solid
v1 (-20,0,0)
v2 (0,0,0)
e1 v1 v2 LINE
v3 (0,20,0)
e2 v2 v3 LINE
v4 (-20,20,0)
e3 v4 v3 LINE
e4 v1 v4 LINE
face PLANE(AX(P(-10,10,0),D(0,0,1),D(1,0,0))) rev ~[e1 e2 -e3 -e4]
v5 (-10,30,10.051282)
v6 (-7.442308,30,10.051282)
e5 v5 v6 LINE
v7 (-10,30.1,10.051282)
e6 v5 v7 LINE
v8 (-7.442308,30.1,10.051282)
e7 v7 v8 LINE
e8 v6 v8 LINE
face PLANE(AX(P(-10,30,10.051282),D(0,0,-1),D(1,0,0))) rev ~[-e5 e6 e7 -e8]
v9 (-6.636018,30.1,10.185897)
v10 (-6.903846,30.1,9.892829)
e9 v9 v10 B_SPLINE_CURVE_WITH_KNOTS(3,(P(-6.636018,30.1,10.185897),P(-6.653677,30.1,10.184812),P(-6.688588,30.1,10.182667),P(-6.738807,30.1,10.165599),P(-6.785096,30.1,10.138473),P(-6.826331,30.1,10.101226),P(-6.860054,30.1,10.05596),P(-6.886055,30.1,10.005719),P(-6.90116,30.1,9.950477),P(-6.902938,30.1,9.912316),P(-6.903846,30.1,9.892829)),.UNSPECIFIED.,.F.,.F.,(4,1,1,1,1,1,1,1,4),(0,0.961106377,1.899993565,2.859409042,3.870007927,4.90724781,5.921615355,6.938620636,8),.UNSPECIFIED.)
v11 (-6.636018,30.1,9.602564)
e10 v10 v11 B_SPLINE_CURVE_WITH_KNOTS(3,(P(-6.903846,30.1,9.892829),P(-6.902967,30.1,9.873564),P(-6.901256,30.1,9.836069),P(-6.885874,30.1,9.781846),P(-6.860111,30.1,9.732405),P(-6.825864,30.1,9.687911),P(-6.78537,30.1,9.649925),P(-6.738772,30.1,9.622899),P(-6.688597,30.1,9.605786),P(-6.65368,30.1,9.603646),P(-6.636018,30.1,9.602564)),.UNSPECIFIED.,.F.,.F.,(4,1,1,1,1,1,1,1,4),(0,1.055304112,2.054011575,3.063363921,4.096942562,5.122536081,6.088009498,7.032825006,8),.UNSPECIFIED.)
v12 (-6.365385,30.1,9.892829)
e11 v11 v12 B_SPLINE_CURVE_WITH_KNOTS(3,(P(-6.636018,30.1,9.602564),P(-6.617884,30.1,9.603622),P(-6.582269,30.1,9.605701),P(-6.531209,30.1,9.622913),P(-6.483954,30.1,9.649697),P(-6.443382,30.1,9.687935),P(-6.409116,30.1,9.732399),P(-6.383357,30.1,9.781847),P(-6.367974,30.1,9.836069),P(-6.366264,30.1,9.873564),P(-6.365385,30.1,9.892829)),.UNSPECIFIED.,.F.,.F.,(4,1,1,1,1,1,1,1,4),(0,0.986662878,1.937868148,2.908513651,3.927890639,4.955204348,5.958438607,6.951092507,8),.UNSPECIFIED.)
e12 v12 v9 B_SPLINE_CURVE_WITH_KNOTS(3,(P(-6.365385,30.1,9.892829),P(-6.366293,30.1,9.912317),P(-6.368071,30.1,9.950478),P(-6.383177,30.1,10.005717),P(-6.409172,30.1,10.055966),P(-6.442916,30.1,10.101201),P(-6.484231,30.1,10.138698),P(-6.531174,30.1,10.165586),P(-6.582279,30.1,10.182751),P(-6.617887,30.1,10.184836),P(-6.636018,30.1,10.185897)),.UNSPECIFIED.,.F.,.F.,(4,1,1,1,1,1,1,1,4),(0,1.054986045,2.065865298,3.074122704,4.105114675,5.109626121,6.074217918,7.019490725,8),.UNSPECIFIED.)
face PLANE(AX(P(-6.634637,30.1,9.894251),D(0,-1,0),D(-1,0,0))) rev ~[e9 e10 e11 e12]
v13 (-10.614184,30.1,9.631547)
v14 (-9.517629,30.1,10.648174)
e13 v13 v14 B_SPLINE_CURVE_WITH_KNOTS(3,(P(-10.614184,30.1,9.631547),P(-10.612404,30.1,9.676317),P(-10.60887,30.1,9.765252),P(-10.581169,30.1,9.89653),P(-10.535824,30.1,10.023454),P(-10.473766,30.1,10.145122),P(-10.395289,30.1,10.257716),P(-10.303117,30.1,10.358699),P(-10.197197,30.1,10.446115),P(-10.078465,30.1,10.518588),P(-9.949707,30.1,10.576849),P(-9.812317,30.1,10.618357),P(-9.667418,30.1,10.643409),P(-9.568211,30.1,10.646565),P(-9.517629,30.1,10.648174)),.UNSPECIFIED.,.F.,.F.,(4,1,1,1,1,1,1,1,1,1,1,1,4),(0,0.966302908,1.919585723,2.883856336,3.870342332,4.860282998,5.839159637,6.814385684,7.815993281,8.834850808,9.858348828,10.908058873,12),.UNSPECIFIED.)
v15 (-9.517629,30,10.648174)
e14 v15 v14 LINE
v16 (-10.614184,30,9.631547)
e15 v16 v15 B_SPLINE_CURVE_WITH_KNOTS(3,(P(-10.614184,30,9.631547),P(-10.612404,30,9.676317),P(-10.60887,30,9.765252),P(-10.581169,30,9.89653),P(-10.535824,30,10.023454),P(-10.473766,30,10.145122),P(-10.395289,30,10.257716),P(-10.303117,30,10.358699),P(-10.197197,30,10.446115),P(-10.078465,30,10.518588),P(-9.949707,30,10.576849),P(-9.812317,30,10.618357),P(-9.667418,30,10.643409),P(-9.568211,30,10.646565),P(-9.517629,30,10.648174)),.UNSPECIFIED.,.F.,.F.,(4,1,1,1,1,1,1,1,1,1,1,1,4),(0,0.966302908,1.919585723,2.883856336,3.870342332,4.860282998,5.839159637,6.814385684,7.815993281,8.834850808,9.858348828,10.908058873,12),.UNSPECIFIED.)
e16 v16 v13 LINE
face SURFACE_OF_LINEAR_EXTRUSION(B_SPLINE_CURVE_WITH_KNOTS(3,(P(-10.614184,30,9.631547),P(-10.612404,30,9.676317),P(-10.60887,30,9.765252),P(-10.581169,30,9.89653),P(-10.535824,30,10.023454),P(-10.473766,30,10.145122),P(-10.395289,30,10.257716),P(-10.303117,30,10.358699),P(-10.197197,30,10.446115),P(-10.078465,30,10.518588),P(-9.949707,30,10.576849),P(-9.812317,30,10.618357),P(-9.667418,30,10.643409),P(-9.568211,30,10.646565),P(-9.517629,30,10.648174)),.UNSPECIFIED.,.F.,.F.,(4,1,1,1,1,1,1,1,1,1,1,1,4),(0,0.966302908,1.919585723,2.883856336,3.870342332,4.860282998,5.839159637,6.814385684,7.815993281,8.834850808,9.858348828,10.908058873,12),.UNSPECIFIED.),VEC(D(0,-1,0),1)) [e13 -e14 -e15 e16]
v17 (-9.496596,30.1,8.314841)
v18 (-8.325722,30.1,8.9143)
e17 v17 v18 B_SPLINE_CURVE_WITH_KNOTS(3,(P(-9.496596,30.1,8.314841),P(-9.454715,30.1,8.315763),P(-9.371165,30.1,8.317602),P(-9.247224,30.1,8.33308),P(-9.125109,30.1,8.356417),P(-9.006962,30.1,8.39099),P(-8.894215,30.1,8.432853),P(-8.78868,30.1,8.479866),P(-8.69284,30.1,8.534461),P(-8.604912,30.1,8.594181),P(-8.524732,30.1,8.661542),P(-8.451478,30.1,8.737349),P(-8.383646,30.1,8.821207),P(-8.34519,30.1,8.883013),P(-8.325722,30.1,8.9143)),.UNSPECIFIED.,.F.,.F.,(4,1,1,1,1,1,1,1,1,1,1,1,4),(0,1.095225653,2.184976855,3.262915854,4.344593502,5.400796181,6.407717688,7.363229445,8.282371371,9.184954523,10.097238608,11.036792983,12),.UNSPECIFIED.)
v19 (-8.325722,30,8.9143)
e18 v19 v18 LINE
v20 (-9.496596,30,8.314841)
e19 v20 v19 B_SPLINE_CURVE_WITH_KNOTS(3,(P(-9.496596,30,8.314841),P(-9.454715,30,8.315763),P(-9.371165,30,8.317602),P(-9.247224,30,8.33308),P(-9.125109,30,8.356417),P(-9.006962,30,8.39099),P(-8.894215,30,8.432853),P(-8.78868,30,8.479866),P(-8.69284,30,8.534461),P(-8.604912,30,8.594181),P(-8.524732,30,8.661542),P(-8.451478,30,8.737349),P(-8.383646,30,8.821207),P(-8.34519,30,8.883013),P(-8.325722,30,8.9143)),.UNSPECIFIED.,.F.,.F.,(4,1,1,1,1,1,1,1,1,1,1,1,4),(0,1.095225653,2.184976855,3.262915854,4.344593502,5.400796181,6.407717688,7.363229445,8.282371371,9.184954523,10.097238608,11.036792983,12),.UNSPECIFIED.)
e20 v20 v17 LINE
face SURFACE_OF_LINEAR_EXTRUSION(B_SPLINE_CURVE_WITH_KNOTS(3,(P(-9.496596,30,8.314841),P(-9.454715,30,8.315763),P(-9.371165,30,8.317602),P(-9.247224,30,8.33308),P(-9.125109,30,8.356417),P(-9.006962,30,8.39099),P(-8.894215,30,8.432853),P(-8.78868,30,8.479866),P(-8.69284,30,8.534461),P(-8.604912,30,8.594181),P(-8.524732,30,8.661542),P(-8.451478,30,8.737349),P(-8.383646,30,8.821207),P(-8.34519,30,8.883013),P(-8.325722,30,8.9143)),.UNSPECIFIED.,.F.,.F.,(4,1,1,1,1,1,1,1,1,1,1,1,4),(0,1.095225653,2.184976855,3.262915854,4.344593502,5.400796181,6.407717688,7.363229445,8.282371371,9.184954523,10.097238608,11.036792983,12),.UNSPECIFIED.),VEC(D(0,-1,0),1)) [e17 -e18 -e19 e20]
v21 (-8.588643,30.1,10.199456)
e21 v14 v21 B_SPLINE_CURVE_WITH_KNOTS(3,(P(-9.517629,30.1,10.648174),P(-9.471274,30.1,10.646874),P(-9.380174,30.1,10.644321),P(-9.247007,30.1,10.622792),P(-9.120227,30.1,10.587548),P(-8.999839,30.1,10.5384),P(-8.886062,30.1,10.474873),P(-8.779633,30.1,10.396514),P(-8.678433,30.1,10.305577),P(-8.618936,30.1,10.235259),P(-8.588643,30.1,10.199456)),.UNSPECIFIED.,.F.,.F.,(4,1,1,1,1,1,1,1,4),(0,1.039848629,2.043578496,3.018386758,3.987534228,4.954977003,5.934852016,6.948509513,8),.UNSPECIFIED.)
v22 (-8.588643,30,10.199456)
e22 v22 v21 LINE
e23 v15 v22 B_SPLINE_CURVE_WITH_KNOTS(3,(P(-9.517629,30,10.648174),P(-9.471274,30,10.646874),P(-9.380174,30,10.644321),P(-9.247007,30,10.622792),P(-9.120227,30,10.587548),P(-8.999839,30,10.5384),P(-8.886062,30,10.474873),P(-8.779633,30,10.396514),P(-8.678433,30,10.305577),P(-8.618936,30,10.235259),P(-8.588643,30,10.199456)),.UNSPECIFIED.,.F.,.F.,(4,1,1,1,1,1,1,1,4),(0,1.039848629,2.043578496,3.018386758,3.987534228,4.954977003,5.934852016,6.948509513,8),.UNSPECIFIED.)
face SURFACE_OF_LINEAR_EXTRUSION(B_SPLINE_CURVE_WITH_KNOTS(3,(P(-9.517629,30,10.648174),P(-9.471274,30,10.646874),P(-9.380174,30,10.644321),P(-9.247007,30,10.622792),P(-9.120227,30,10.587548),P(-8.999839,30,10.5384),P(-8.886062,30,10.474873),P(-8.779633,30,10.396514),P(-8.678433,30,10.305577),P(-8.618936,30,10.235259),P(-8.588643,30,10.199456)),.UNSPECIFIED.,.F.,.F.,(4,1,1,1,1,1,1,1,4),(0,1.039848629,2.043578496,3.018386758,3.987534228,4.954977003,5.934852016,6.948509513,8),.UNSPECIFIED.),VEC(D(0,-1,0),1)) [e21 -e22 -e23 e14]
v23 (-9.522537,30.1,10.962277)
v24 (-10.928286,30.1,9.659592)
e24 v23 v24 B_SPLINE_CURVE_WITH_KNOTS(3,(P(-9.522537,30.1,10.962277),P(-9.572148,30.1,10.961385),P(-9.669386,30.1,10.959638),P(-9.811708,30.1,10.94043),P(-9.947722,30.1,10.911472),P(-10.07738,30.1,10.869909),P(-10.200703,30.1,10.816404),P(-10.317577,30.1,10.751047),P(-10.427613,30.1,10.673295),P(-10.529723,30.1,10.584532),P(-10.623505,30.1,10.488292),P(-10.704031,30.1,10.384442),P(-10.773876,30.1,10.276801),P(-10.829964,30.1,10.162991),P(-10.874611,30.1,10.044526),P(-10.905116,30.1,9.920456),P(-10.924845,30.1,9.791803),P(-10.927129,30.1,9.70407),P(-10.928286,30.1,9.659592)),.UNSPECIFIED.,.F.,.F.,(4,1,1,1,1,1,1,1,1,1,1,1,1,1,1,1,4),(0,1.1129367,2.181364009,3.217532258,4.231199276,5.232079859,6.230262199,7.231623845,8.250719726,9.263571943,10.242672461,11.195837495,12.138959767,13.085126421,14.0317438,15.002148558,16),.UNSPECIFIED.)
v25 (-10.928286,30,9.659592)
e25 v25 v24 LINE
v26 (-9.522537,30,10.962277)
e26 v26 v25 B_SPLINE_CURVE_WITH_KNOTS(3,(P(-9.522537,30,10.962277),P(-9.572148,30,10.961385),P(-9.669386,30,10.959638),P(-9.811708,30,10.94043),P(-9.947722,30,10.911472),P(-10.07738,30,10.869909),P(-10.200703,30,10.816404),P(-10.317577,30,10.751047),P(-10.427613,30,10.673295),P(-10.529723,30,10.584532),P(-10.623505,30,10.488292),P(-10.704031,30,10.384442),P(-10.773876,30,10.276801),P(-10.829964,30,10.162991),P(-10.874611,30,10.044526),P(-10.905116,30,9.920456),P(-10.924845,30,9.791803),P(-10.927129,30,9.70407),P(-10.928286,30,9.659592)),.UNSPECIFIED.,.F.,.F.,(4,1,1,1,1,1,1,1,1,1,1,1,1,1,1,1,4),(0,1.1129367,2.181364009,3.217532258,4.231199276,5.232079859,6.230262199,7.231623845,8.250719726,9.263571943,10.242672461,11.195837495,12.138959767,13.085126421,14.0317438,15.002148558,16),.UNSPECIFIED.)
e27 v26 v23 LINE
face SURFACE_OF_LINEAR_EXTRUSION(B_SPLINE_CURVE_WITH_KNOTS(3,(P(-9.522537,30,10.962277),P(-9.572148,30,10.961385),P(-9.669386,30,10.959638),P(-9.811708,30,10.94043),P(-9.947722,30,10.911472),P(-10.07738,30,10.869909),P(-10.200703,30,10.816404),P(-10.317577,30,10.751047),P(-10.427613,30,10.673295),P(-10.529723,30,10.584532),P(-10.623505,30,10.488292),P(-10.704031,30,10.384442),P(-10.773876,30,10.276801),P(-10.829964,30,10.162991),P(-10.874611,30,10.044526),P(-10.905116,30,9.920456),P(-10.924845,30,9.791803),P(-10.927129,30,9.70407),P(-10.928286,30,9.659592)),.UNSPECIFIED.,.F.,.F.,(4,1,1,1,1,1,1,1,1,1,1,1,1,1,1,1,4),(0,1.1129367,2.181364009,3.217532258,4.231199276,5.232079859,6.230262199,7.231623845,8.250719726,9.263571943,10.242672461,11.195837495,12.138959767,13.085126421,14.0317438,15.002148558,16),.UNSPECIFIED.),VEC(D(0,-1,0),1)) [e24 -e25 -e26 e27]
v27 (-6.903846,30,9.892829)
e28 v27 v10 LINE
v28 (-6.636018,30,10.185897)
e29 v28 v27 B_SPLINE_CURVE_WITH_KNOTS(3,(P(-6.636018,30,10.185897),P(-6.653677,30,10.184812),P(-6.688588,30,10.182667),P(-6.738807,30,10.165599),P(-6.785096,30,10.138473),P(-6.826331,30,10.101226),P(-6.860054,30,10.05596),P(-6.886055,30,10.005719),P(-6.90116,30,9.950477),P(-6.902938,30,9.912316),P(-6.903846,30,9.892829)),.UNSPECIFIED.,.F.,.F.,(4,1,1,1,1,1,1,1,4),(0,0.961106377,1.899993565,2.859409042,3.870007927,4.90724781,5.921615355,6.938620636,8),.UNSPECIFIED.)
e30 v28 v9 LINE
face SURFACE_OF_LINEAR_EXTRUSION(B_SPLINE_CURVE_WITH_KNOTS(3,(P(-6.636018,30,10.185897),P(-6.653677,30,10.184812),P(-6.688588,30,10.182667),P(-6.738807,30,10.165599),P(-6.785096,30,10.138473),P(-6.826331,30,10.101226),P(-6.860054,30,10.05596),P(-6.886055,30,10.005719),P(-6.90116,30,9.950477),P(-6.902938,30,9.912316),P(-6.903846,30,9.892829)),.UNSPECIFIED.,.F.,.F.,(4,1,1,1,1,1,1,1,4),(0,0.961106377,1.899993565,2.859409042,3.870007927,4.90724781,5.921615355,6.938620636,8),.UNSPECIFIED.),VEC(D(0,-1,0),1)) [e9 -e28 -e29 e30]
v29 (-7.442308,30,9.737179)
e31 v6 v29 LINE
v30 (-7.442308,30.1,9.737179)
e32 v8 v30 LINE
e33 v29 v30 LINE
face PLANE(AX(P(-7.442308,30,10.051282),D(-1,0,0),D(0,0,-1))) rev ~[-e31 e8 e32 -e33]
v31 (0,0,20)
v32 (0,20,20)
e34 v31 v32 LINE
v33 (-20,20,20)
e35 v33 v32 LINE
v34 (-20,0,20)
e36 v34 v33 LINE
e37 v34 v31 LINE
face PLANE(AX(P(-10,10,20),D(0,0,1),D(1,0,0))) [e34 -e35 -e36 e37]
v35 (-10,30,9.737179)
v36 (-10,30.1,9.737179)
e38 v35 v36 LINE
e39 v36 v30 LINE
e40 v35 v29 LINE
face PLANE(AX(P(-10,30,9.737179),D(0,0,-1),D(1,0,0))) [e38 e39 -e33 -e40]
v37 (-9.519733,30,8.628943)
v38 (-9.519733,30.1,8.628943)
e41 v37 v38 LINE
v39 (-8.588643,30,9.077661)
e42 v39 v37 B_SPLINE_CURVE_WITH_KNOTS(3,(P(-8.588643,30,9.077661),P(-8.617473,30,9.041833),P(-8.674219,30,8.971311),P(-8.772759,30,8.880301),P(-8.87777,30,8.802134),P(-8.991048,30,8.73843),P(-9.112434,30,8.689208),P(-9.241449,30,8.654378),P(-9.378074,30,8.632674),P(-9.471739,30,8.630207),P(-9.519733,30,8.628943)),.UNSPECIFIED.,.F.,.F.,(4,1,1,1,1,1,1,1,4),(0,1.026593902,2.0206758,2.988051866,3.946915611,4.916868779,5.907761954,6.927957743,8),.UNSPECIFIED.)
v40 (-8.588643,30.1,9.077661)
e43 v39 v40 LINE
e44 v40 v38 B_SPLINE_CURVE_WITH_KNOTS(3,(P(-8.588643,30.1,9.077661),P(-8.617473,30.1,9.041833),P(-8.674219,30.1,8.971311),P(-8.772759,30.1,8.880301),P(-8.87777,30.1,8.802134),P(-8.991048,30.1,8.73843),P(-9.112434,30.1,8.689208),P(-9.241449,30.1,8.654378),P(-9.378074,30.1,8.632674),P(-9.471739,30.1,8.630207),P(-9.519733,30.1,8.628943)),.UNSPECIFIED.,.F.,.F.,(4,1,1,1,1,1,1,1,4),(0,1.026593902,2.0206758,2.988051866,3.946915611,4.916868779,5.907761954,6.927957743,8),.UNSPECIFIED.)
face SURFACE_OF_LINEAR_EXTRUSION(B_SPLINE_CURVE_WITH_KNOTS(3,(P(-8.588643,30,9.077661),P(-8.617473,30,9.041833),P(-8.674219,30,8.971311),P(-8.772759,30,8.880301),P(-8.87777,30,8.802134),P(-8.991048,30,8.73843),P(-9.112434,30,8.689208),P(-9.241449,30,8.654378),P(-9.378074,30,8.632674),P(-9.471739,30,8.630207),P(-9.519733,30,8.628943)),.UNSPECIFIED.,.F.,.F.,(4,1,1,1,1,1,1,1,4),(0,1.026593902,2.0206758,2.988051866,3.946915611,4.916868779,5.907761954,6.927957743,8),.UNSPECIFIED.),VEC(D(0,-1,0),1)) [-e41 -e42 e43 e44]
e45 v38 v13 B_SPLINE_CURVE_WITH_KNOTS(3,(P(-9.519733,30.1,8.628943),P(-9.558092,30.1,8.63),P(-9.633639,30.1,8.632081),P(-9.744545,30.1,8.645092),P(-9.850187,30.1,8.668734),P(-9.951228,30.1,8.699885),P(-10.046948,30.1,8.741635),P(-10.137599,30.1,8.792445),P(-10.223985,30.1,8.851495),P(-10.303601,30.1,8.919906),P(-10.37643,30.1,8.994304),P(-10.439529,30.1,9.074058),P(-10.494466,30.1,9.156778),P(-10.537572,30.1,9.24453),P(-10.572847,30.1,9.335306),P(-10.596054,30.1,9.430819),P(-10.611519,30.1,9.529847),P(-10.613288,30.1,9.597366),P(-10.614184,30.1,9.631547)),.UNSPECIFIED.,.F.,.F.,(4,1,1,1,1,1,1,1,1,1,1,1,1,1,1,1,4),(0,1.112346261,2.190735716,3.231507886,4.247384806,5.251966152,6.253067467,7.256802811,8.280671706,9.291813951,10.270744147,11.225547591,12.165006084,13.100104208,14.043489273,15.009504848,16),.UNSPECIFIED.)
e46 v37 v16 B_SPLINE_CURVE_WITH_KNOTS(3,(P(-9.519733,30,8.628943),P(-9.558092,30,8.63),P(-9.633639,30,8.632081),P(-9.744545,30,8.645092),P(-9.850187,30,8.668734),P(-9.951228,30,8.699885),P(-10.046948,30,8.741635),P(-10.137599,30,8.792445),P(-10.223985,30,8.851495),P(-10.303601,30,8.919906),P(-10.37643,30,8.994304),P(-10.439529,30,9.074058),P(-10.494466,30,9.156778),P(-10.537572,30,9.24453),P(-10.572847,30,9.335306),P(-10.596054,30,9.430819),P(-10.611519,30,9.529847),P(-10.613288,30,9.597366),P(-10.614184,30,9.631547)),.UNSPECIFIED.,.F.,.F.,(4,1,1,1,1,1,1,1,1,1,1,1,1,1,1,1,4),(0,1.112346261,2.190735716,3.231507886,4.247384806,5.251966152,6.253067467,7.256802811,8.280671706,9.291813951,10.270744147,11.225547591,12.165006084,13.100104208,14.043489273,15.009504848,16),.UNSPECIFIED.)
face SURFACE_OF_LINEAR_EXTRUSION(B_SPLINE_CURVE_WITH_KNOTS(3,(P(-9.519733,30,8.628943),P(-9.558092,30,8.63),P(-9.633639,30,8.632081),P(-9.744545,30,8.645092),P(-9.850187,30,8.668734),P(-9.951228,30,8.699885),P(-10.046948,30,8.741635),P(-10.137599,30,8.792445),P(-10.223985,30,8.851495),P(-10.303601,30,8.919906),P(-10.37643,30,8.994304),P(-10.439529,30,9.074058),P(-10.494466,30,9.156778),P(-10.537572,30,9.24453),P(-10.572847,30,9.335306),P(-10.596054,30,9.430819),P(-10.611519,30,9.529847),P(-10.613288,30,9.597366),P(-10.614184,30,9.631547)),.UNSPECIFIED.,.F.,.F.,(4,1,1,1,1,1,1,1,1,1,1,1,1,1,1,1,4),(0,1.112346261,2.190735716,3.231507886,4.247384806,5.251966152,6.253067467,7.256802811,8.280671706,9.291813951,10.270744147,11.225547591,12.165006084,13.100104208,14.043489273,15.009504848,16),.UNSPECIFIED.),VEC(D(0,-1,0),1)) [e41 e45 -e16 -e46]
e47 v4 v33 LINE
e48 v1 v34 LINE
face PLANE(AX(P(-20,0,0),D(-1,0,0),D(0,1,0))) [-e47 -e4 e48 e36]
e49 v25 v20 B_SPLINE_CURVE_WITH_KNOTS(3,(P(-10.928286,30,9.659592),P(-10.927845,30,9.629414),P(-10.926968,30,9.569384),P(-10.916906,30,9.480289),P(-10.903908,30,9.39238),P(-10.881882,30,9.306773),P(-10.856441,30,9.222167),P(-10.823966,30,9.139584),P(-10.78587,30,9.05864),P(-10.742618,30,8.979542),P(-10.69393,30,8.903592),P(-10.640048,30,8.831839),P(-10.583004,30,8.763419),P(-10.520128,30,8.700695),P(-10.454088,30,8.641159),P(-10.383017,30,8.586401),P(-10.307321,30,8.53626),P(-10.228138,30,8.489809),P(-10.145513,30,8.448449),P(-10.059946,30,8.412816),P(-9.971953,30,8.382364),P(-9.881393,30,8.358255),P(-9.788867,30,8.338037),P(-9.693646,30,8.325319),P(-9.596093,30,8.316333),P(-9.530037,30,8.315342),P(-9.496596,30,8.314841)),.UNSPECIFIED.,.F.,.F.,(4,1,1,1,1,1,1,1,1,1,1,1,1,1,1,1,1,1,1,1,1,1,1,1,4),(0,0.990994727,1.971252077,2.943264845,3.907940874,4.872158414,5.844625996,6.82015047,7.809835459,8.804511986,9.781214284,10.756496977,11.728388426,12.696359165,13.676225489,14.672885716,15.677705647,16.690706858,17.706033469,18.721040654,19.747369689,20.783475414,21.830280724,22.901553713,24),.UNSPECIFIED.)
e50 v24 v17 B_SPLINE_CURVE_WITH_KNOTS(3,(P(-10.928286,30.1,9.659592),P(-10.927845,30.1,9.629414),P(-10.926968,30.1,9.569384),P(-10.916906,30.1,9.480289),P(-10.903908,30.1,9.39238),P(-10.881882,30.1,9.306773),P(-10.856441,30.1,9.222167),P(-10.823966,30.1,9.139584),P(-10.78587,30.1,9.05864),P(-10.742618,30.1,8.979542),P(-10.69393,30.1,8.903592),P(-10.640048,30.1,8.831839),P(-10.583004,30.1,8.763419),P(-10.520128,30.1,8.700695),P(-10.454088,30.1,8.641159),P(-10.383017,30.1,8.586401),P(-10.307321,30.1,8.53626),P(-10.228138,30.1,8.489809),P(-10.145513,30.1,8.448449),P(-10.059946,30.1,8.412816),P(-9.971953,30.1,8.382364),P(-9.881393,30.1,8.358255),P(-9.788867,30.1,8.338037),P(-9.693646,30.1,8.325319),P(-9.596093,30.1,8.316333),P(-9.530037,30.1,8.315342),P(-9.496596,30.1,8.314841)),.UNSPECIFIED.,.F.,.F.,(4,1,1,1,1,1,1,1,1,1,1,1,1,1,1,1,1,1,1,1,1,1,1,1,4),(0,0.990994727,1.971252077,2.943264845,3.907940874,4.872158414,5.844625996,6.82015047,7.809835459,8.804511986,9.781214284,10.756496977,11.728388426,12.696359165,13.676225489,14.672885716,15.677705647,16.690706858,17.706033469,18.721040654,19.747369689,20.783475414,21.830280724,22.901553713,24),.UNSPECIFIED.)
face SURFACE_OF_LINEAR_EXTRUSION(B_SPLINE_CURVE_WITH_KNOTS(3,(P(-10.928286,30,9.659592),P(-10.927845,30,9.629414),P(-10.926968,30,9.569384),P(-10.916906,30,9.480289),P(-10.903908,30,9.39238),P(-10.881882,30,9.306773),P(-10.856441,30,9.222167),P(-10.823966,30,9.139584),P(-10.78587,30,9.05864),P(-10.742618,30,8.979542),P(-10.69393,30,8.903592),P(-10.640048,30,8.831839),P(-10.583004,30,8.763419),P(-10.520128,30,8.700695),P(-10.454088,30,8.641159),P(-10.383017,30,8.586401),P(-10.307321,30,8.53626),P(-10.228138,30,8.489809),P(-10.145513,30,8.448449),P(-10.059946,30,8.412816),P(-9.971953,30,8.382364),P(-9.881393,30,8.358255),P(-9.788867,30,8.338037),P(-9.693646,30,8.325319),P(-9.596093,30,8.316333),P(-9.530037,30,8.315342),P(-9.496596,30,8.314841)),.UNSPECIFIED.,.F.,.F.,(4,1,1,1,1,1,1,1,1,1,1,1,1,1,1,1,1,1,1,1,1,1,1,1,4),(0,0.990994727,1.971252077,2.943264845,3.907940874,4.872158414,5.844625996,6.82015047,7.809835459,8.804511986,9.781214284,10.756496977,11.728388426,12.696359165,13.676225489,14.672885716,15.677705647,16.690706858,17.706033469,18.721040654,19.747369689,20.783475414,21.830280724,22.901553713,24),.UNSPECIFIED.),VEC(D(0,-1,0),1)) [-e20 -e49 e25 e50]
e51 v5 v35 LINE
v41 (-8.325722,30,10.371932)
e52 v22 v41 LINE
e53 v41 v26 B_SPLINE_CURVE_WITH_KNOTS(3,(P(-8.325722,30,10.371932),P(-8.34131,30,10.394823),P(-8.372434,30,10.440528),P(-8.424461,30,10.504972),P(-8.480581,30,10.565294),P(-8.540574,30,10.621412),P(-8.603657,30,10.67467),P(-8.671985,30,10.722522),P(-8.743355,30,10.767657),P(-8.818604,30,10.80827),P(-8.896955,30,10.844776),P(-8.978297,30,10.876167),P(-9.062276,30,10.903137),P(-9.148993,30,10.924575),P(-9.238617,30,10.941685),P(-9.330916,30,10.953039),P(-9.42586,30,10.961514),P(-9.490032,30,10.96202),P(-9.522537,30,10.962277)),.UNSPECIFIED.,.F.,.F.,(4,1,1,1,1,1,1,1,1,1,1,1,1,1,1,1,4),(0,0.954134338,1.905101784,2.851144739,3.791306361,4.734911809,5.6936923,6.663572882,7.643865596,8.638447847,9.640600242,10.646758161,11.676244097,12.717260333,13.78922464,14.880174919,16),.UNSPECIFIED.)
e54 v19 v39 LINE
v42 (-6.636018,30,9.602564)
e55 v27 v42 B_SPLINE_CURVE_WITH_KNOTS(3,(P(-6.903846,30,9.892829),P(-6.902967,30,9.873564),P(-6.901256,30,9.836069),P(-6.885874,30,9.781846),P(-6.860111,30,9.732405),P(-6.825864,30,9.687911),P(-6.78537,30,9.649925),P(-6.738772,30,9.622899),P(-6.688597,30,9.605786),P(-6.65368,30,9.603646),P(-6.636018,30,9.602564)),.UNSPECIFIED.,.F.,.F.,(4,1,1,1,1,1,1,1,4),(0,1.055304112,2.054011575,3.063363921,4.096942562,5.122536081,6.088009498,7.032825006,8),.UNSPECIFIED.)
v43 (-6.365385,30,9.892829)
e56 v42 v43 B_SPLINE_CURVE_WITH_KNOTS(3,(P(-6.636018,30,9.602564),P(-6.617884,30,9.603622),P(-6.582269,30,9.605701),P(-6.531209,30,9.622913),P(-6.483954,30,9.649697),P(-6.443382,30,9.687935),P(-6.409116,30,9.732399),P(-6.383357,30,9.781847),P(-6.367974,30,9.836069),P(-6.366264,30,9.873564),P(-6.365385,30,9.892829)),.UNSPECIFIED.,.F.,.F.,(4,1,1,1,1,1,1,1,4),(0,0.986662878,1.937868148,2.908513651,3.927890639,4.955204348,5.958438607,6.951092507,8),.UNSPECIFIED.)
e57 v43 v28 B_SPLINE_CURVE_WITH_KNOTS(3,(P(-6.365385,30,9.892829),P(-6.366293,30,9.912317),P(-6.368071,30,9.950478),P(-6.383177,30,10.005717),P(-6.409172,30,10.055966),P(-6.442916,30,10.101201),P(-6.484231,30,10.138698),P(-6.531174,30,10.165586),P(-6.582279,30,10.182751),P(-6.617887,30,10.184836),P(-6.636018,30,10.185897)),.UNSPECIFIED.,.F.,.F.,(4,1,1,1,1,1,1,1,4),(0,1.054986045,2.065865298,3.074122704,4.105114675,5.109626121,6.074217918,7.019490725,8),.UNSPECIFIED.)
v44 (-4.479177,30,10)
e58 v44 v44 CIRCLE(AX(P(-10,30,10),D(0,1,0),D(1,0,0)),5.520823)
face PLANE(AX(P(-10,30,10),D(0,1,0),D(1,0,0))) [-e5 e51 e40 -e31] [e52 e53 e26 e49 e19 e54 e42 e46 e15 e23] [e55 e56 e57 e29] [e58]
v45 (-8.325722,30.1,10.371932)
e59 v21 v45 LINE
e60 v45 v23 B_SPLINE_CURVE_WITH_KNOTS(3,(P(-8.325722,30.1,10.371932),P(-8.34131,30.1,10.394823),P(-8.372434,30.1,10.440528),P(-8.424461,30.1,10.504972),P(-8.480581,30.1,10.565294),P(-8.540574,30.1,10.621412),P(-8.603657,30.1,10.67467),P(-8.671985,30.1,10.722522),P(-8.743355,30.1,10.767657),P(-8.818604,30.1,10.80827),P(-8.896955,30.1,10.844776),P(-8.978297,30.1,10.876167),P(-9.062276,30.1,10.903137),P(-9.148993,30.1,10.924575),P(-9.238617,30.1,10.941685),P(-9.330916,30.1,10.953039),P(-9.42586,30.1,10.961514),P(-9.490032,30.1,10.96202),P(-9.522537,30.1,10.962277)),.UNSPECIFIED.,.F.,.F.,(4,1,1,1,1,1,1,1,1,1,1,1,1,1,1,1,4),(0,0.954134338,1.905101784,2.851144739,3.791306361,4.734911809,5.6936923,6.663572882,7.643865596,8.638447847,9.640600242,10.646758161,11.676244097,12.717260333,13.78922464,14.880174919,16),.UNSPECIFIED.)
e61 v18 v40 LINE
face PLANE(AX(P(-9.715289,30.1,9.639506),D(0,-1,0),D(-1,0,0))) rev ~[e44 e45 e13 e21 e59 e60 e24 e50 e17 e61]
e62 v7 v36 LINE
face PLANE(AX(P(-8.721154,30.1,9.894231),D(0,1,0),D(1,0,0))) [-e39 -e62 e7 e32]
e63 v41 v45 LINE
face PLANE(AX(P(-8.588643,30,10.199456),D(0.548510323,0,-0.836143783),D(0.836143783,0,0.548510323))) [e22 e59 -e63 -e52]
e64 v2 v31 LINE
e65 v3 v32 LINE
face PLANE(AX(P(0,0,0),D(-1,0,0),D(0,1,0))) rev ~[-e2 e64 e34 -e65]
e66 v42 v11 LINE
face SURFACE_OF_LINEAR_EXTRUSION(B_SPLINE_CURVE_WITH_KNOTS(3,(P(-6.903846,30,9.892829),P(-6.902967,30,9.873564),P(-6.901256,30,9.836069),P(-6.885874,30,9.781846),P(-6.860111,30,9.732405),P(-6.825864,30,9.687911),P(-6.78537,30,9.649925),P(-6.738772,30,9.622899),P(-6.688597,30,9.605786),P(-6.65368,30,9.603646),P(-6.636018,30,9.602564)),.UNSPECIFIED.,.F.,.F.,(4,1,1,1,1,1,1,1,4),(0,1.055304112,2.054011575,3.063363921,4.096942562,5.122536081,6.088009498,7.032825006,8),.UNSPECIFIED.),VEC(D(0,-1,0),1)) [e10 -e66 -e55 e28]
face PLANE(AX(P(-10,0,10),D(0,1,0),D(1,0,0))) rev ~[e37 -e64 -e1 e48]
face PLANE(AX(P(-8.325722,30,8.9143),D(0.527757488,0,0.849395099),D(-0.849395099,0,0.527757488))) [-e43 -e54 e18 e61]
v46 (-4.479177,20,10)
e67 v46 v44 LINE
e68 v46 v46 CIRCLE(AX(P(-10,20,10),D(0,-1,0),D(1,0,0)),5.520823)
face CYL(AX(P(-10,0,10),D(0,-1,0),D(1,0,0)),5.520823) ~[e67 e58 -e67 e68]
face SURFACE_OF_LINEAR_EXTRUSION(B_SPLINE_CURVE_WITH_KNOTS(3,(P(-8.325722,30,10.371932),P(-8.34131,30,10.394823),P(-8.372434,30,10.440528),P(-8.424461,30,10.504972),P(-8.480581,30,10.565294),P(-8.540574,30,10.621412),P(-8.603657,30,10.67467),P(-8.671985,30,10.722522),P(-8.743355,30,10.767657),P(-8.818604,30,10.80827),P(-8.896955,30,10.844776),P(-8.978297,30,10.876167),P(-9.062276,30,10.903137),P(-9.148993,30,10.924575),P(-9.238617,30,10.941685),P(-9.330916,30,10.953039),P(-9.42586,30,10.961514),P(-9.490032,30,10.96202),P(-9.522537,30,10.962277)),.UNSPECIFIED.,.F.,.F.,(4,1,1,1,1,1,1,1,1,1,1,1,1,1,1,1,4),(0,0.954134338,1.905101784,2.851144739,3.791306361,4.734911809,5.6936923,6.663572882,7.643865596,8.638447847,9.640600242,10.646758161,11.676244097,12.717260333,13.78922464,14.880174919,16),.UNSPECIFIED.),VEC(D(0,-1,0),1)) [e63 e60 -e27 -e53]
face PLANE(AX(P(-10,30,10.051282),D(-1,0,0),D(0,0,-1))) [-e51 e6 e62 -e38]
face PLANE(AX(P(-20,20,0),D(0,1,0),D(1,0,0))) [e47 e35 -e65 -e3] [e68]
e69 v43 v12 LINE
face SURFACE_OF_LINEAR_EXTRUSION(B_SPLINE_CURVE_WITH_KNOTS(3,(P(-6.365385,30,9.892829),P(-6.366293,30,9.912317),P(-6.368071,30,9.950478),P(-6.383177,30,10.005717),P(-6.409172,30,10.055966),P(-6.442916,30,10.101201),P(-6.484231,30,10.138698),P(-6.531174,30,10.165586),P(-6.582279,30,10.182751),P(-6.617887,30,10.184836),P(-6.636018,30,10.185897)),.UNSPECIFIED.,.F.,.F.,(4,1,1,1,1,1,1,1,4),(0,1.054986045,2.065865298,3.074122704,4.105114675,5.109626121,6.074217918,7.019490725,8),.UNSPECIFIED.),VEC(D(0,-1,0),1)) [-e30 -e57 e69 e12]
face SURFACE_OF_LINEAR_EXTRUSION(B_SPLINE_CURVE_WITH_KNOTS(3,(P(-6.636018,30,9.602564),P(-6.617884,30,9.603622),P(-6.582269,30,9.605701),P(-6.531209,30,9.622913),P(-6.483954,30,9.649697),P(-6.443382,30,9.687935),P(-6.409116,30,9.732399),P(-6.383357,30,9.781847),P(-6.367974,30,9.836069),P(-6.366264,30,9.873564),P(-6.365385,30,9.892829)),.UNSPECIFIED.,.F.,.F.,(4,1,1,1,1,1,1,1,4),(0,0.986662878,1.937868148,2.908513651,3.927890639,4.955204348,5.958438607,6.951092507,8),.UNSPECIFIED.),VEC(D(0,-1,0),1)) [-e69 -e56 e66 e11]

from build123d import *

# Parameters (mm, degrees)
SKETCH1_W           = 20
SKETCH1_H           = 20
BOSS_EXTRUDE1_DEPTH = 20
SKETCH2_R           = 5.520822916
BOSS_EXTRUDE3_DEPTH = 30
BOSS_EXTRUDE4_DEPTH = 0.1
SKETCH4_W           = 2.557692308
SKETCH4_H           = 0.314102564
BOSS_EXTRUDE5_DEPTH = 0.1


with BuildPart() as part:
    # Sketch1 → Boss-Extrude1 (new body)
    with BuildSketch(Plane.XY):
        with Locations((-10, 10)):
            Rectangle(SKETCH1_W, SKETCH1_H)
    extrude(amount=BOSS_EXTRUDE1_DEPTH)

    # Sketch2 → Boss-Extrude3 (add)
    with BuildSketch(Plane(origin=(0, 0, 0), x_dir=(1, 0, 0), z_dir=(0, 1, 0))):
        with Locations((-10, -10)):
            Circle(SKETCH2_R)
    extrude(amount=BOSS_EXTRUDE3_DEPTH)

    # Sketch3 → Boss-Extrude4 (add)
    with BuildSketch(Plane(origin=(0, 30, 0), x_dir=(1, 0, 0), z_dir=(0, 1, 0))):
        with BuildLine():
            Line((-8.325722208, -8.914299791), (-8.588642881, -9.077661169))
            add(Edge.make_bspline(
                [(-8.588642881, -9.077661169), (-8.617472747, -9.041832775), (-8.674219442, -8.971310665), (-8.772758678, -8.880300732), (-8.877770093, -8.80213369), (-8.99104814, -8.738429939), (-9.11243394, -8.689208489), (-9.241448792, -8.654378283), (-9.378074297, -8.63267404), (-9.471739496, -8.630207204), (-9.519732625, -8.628943221)],
                knots=[0, 0, 0, 0, 1.026593902, 2.0206758, 2.988051866, 3.946915611, 4.916868779, 5.907761954, 6.927957743, 8, 8, 8, 8], degree=3))
            add(Edge.make_bspline(
                [(-9.519732625, -8.628943221), (-9.558091582, -8.630000063), (-9.633638505, -8.632081485), (-9.744544658, -8.645091978), (-9.850187011, -8.668733986), (-9.95122772, -8.699884943), (-10.046948139, -8.741635233), (-10.137599057, -8.792444989), (-10.223984547, -8.85149503), (-10.303601288, -8.919905575), (-10.376430295, -8.994304243), (-10.439529209, -9.074057938), (-10.494466143, -9.156777829), (-10.537572099, -9.244529571), (-10.572847269, -9.335305625), (-10.59605399, -9.43081948), (-10.611518685, -9.529847488), (-10.613288014, -9.597365828), (-10.614183747, -9.631547387)],
                knots=[0, 0, 0, 0, 1.112346261, 2.190735716, 3.231507886, 4.247384806, 5.251966152, 6.253067467, 7.256802811, 8.280671706, 9.291813951, 10.270744147, 11.225547591, 12.165006084, 13.100104208, 14.043489273, 15.009504848, 16, 16, 16, 16], degree=3))
            add(Edge.make_bspline(
                [(-10.614183747, -9.631547387), (-10.612404495, -9.676316598), (-10.608869964, -9.765251794), (-10.581168504, -9.896529896), (-10.535824097, -10.023453586), (-10.473766246, -10.145121723), (-10.395289112, -10.257715879), (-10.303116549, -10.358699333), (-10.197197465, -10.446115361), (-10.078465135, -10.518587886), (-9.949707391, -10.576849254), (-9.812317286, -10.618356587), (-9.667417506, -10.643408959), (-9.568210759, -10.646564902), (-9.51762926, -10.64817399)],
                knots=[0, 0, 0, 0, 0.966302908, 1.919585723, 2.883856336, 3.870342332, 4.860282998, 5.839159637, 6.814385684, 7.815993281, 8.834850808, 9.858348828, 10.908058873, 12, 12, 12, 12], degree=3))
            add(Edge.make_bspline(
                [(-9.51762926, -10.64817399), (-9.471274075, -10.646874493), (-9.380173837, -10.644320636), (-9.247006552, -10.622791672), (-9.120226641, -10.587548039), (-8.99983861, -10.538400389), (-8.886062444, -10.474872873), (-8.779633269, -10.396513702), (-8.678433331, -10.305577102), (-8.618936355, -10.23525913), (-8.588642881, -10.199456041)],
                knots=[0, 0, 0, 0, 1.039848629, 2.043578496, 3.018386758, 3.987534228, 4.954977003, 5.934852016, 6.948509513, 8, 8, 8, 8], degree=3))
            Line((-8.588642881, -10.199456041), (-8.325722208, -10.371932003))
            add(Edge.make_bspline(
                [(-8.325722208, -10.371932003), (-8.341309911, -10.39482273), (-8.372433577, -10.440528206), (-8.424461203, -10.504972323), (-8.480581035, -10.565294005), (-8.540574131, -10.621412395), (-8.603657141, -10.674670415), (-8.671985051, -10.722521989), (-8.743354662, -10.767656812), (-8.81860382, -10.808269684), (-8.896954518, -10.844776005), (-8.978296508, -10.876167176), (-9.06227632, -10.903137282), (-9.148992697, -10.924574629), (-9.238616595, -10.941685467), (-9.330916229, -10.953039169), (-9.425859811, -10.96151445), (-9.490031962, -10.962020317), (-9.522537112, -10.962276554)],
                knots=[0, 0, 0, 0, 0.954134338, 1.905101784, 2.851144739, 3.791306361, 4.734911809, 5.6936923, 6.663572882, 7.643865596, 8.638447847, 9.640600242, 10.646758161, 11.676244097, 12.717260333, 13.78922464, 14.880174919, 16, 16, 16, 16], degree=3))
            add(Edge.make_bspline(
                [(-9.522537112, -10.962276554), (-9.572147996, -10.961385274), (-9.669385688, -10.959638359), (-9.811708196, -10.940429884), (-9.947721863, -10.911472268), (-10.077380221, -10.869908534), (-10.200703455, -10.816403758), (-10.317576573, -10.751046844), (-10.427612591, -10.673295054), (-10.529723374, -10.584532285), (-10.62350482, -10.488291644), (-10.704031011, -10.384441726), (-10.773876281, -10.276800678), (-10.829963824, -10.162991152), (-10.874610751, -10.044525779), (-10.905115583, -9.920455539), (-10.924845321, -9.791803285), (-10.927128701, -9.704070403), (-10.928286311, -9.659592259)],
                knots=[0, 0, 0, 0, 1.1129367, 2.181364009, 3.217532258, 4.231199276, 5.232079859, 6.230262199, 7.231623845, 8.250719726, 9.263571943, 10.242672461, 11.195837495, 12.138959767, 13.085126421, 14.0317438, 15.002148558, 16, 16, 16, 16], degree=3))
            add(Edge.make_bspline(
                [(-10.928286311, -9.659592259), (-10.927845295, -9.629413825), (-10.926968041, -9.569383937), (-10.916906113, -9.48028887), (-10.90390764, -9.392380325), (-10.881881903, -9.306772606), (-10.856441271, -9.222167316), (-10.82396574, -9.139584214), (-10.785870345, -9.058639542), (-10.742618397, -8.979541812), (-10.693929652, -8.903592273), (-10.640048419, -8.831838608), (-10.583004083, -8.763418842), (-10.520127971, -8.700695082), (-10.454088317, -8.64115889), (-10.383016741, -8.586400766), (-10.30732089, -8.536259775), (-10.228137567, -8.48980876), (-10.145512856, -8.448449325), (-10.059946185, -8.412816087), (-9.971953156, -8.382363511), (-9.881393012, -8.358254592), (-9.788866839, -8.338037168), (-9.693645501, -8.325319322), (-9.596093279, -8.316333049), (-9.530037256, -8.315342257), (-9.496595606, -8.314840657)],
                knots=[0, 0, 0, 0, 0.990994727, 1.971252077, 2.943264845, 3.907940874, 4.872158414, 5.844625996, 6.82015047, 7.809835459, 8.804511986, 9.781214284, 10.756496977, 11.728388426, 12.696359165, 13.676225489, 14.672885716, 15.677705647, 16.690706858, 17.706033469, 18.721040654, 19.747369689, 20.783475414, 21.830280724, 22.901553713, 24, 24, 24, 24], degree=3))
            add(Edge.make_bspline(
                [(-9.496595606, -8.314840657), (-9.454715498, -8.315762548), (-9.371164618, -8.317601722), (-9.247223911, -8.333080374), (-9.125108718, -8.35641679), (-9.006961614, -8.39098962), (-8.8942151, -8.432853276), (-8.788679649, -8.47986599), (-8.692839546, -8.534460594), (-8.604911956, -8.594180708), (-8.524732439, -8.661541614), (-8.451477947, -8.737348571), (-8.383646297, -8.82120705), (-8.345189586, -8.883012781), (-8.325722208, -8.914299791)],
                knots=[0, 0, 0, 0, 1.095225653, 2.184976855, 3.262915854, 4.344593502, 5.400796181, 6.407717688, 7.363229445, 8.282371371, 9.184954523, 10.097238608, 11.036792983, 12, 12, 12, 12], degree=3))
        make_face()
    extrude(amount=BOSS_EXTRUDE4_DEPTH)

    # Sketch4 → Boss-Extrude5 (add)
    with BuildSketch(Plane(origin=(0, 30, 0), x_dir=(1, 0, 0), z_dir=(0, 1, 0))):
        with BuildLine():
            add(Edge.make_bspline(
                [(-6.365384615, -9.892828526), (-6.36629269, -9.912316587), (-6.368070874, -9.950477954), (-6.383176643, -10.005717448), (-6.409172417, -10.055966244), (-6.442915564, -10.101200835), (-6.484230683, -10.138698232), (-6.53117379, -10.165585861), (-6.58227867, -10.182750842), (-6.617887461, -10.184835854), (-6.636017628, -10.185897436)],
                knots=[0, 0, 0, 0, 1.054986045, 2.065865298, 3.074122704, 4.105114675, 5.109626121, 6.074217918, 7.019490725, 8, 8, 8, 8], degree=3))
            add(Edge.make_bspline(
                [(-6.636017628, -10.185897436), (-6.653677192, -10.184812106), (-6.688588061, -10.182666538), (-6.738806847, -10.16559855), (-6.785096281, -10.138472811), (-6.826330626, -10.101225793), (-6.86005428, -10.055959652), (-6.886055203, -10.005719191), (-6.901159612, -9.950477495), (-6.902937984, -9.912316432), (-6.903846154, -9.892828526)],
                knots=[0, 0, 0, 0, 0.961106377, 1.899993565, 2.859409042, 3.870007927, 4.90724781, 5.921615355, 6.938620636, 8, 8, 8, 8], degree=3))
            add(Edge.make_bspline(
                [(-6.903846154, -9.892828526), (-6.902967151, -9.873564442), (-6.901256287, -9.836069421), (-6.885874492, -9.78184562), (-6.860110821, -9.732405344), (-6.825863936, -9.687910508), (-6.785370463, -9.649925015), (-6.738771881, -9.622899362), (-6.688596963, -9.60578574), (-6.653680183, -9.603646321), (-6.636017628, -9.602564103)],
                knots=[0, 0, 0, 0, 1.055304112, 2.054011575, 3.063363921, 4.096942562, 5.122536081, 6.088009498, 7.032825006, 8, 8, 8, 8], degree=3))
            add(Edge.make_bspline(
                [(-6.636017628, -9.602564103), (-6.617884357, -9.603622457), (-6.582269469, -9.605701133), (-6.531209353, -9.622912645), (-6.483954162, -9.649696813), (-6.443381916, -9.687935052), (-6.409116, -9.732398919), (-6.383357305, -9.781847293), (-6.36797421, -9.836068977), (-6.366263526, -9.873564292), (-6.365384615, -9.892828526)],
                knots=[0, 0, 0, 0, 0.986662878, 1.937868148, 2.908513651, 3.927890639, 4.955204348, 5.958438607, 6.951092507, 8, 8, 8, 8], degree=3))
        make_face()
        with Locations((-8.721153846, -9.894230769)):
            Rectangle(SKETCH4_W, SKETCH4_H)
    extrude(amount=BOSS_EXTRUDE5_DEPTH)


solid = part.part
